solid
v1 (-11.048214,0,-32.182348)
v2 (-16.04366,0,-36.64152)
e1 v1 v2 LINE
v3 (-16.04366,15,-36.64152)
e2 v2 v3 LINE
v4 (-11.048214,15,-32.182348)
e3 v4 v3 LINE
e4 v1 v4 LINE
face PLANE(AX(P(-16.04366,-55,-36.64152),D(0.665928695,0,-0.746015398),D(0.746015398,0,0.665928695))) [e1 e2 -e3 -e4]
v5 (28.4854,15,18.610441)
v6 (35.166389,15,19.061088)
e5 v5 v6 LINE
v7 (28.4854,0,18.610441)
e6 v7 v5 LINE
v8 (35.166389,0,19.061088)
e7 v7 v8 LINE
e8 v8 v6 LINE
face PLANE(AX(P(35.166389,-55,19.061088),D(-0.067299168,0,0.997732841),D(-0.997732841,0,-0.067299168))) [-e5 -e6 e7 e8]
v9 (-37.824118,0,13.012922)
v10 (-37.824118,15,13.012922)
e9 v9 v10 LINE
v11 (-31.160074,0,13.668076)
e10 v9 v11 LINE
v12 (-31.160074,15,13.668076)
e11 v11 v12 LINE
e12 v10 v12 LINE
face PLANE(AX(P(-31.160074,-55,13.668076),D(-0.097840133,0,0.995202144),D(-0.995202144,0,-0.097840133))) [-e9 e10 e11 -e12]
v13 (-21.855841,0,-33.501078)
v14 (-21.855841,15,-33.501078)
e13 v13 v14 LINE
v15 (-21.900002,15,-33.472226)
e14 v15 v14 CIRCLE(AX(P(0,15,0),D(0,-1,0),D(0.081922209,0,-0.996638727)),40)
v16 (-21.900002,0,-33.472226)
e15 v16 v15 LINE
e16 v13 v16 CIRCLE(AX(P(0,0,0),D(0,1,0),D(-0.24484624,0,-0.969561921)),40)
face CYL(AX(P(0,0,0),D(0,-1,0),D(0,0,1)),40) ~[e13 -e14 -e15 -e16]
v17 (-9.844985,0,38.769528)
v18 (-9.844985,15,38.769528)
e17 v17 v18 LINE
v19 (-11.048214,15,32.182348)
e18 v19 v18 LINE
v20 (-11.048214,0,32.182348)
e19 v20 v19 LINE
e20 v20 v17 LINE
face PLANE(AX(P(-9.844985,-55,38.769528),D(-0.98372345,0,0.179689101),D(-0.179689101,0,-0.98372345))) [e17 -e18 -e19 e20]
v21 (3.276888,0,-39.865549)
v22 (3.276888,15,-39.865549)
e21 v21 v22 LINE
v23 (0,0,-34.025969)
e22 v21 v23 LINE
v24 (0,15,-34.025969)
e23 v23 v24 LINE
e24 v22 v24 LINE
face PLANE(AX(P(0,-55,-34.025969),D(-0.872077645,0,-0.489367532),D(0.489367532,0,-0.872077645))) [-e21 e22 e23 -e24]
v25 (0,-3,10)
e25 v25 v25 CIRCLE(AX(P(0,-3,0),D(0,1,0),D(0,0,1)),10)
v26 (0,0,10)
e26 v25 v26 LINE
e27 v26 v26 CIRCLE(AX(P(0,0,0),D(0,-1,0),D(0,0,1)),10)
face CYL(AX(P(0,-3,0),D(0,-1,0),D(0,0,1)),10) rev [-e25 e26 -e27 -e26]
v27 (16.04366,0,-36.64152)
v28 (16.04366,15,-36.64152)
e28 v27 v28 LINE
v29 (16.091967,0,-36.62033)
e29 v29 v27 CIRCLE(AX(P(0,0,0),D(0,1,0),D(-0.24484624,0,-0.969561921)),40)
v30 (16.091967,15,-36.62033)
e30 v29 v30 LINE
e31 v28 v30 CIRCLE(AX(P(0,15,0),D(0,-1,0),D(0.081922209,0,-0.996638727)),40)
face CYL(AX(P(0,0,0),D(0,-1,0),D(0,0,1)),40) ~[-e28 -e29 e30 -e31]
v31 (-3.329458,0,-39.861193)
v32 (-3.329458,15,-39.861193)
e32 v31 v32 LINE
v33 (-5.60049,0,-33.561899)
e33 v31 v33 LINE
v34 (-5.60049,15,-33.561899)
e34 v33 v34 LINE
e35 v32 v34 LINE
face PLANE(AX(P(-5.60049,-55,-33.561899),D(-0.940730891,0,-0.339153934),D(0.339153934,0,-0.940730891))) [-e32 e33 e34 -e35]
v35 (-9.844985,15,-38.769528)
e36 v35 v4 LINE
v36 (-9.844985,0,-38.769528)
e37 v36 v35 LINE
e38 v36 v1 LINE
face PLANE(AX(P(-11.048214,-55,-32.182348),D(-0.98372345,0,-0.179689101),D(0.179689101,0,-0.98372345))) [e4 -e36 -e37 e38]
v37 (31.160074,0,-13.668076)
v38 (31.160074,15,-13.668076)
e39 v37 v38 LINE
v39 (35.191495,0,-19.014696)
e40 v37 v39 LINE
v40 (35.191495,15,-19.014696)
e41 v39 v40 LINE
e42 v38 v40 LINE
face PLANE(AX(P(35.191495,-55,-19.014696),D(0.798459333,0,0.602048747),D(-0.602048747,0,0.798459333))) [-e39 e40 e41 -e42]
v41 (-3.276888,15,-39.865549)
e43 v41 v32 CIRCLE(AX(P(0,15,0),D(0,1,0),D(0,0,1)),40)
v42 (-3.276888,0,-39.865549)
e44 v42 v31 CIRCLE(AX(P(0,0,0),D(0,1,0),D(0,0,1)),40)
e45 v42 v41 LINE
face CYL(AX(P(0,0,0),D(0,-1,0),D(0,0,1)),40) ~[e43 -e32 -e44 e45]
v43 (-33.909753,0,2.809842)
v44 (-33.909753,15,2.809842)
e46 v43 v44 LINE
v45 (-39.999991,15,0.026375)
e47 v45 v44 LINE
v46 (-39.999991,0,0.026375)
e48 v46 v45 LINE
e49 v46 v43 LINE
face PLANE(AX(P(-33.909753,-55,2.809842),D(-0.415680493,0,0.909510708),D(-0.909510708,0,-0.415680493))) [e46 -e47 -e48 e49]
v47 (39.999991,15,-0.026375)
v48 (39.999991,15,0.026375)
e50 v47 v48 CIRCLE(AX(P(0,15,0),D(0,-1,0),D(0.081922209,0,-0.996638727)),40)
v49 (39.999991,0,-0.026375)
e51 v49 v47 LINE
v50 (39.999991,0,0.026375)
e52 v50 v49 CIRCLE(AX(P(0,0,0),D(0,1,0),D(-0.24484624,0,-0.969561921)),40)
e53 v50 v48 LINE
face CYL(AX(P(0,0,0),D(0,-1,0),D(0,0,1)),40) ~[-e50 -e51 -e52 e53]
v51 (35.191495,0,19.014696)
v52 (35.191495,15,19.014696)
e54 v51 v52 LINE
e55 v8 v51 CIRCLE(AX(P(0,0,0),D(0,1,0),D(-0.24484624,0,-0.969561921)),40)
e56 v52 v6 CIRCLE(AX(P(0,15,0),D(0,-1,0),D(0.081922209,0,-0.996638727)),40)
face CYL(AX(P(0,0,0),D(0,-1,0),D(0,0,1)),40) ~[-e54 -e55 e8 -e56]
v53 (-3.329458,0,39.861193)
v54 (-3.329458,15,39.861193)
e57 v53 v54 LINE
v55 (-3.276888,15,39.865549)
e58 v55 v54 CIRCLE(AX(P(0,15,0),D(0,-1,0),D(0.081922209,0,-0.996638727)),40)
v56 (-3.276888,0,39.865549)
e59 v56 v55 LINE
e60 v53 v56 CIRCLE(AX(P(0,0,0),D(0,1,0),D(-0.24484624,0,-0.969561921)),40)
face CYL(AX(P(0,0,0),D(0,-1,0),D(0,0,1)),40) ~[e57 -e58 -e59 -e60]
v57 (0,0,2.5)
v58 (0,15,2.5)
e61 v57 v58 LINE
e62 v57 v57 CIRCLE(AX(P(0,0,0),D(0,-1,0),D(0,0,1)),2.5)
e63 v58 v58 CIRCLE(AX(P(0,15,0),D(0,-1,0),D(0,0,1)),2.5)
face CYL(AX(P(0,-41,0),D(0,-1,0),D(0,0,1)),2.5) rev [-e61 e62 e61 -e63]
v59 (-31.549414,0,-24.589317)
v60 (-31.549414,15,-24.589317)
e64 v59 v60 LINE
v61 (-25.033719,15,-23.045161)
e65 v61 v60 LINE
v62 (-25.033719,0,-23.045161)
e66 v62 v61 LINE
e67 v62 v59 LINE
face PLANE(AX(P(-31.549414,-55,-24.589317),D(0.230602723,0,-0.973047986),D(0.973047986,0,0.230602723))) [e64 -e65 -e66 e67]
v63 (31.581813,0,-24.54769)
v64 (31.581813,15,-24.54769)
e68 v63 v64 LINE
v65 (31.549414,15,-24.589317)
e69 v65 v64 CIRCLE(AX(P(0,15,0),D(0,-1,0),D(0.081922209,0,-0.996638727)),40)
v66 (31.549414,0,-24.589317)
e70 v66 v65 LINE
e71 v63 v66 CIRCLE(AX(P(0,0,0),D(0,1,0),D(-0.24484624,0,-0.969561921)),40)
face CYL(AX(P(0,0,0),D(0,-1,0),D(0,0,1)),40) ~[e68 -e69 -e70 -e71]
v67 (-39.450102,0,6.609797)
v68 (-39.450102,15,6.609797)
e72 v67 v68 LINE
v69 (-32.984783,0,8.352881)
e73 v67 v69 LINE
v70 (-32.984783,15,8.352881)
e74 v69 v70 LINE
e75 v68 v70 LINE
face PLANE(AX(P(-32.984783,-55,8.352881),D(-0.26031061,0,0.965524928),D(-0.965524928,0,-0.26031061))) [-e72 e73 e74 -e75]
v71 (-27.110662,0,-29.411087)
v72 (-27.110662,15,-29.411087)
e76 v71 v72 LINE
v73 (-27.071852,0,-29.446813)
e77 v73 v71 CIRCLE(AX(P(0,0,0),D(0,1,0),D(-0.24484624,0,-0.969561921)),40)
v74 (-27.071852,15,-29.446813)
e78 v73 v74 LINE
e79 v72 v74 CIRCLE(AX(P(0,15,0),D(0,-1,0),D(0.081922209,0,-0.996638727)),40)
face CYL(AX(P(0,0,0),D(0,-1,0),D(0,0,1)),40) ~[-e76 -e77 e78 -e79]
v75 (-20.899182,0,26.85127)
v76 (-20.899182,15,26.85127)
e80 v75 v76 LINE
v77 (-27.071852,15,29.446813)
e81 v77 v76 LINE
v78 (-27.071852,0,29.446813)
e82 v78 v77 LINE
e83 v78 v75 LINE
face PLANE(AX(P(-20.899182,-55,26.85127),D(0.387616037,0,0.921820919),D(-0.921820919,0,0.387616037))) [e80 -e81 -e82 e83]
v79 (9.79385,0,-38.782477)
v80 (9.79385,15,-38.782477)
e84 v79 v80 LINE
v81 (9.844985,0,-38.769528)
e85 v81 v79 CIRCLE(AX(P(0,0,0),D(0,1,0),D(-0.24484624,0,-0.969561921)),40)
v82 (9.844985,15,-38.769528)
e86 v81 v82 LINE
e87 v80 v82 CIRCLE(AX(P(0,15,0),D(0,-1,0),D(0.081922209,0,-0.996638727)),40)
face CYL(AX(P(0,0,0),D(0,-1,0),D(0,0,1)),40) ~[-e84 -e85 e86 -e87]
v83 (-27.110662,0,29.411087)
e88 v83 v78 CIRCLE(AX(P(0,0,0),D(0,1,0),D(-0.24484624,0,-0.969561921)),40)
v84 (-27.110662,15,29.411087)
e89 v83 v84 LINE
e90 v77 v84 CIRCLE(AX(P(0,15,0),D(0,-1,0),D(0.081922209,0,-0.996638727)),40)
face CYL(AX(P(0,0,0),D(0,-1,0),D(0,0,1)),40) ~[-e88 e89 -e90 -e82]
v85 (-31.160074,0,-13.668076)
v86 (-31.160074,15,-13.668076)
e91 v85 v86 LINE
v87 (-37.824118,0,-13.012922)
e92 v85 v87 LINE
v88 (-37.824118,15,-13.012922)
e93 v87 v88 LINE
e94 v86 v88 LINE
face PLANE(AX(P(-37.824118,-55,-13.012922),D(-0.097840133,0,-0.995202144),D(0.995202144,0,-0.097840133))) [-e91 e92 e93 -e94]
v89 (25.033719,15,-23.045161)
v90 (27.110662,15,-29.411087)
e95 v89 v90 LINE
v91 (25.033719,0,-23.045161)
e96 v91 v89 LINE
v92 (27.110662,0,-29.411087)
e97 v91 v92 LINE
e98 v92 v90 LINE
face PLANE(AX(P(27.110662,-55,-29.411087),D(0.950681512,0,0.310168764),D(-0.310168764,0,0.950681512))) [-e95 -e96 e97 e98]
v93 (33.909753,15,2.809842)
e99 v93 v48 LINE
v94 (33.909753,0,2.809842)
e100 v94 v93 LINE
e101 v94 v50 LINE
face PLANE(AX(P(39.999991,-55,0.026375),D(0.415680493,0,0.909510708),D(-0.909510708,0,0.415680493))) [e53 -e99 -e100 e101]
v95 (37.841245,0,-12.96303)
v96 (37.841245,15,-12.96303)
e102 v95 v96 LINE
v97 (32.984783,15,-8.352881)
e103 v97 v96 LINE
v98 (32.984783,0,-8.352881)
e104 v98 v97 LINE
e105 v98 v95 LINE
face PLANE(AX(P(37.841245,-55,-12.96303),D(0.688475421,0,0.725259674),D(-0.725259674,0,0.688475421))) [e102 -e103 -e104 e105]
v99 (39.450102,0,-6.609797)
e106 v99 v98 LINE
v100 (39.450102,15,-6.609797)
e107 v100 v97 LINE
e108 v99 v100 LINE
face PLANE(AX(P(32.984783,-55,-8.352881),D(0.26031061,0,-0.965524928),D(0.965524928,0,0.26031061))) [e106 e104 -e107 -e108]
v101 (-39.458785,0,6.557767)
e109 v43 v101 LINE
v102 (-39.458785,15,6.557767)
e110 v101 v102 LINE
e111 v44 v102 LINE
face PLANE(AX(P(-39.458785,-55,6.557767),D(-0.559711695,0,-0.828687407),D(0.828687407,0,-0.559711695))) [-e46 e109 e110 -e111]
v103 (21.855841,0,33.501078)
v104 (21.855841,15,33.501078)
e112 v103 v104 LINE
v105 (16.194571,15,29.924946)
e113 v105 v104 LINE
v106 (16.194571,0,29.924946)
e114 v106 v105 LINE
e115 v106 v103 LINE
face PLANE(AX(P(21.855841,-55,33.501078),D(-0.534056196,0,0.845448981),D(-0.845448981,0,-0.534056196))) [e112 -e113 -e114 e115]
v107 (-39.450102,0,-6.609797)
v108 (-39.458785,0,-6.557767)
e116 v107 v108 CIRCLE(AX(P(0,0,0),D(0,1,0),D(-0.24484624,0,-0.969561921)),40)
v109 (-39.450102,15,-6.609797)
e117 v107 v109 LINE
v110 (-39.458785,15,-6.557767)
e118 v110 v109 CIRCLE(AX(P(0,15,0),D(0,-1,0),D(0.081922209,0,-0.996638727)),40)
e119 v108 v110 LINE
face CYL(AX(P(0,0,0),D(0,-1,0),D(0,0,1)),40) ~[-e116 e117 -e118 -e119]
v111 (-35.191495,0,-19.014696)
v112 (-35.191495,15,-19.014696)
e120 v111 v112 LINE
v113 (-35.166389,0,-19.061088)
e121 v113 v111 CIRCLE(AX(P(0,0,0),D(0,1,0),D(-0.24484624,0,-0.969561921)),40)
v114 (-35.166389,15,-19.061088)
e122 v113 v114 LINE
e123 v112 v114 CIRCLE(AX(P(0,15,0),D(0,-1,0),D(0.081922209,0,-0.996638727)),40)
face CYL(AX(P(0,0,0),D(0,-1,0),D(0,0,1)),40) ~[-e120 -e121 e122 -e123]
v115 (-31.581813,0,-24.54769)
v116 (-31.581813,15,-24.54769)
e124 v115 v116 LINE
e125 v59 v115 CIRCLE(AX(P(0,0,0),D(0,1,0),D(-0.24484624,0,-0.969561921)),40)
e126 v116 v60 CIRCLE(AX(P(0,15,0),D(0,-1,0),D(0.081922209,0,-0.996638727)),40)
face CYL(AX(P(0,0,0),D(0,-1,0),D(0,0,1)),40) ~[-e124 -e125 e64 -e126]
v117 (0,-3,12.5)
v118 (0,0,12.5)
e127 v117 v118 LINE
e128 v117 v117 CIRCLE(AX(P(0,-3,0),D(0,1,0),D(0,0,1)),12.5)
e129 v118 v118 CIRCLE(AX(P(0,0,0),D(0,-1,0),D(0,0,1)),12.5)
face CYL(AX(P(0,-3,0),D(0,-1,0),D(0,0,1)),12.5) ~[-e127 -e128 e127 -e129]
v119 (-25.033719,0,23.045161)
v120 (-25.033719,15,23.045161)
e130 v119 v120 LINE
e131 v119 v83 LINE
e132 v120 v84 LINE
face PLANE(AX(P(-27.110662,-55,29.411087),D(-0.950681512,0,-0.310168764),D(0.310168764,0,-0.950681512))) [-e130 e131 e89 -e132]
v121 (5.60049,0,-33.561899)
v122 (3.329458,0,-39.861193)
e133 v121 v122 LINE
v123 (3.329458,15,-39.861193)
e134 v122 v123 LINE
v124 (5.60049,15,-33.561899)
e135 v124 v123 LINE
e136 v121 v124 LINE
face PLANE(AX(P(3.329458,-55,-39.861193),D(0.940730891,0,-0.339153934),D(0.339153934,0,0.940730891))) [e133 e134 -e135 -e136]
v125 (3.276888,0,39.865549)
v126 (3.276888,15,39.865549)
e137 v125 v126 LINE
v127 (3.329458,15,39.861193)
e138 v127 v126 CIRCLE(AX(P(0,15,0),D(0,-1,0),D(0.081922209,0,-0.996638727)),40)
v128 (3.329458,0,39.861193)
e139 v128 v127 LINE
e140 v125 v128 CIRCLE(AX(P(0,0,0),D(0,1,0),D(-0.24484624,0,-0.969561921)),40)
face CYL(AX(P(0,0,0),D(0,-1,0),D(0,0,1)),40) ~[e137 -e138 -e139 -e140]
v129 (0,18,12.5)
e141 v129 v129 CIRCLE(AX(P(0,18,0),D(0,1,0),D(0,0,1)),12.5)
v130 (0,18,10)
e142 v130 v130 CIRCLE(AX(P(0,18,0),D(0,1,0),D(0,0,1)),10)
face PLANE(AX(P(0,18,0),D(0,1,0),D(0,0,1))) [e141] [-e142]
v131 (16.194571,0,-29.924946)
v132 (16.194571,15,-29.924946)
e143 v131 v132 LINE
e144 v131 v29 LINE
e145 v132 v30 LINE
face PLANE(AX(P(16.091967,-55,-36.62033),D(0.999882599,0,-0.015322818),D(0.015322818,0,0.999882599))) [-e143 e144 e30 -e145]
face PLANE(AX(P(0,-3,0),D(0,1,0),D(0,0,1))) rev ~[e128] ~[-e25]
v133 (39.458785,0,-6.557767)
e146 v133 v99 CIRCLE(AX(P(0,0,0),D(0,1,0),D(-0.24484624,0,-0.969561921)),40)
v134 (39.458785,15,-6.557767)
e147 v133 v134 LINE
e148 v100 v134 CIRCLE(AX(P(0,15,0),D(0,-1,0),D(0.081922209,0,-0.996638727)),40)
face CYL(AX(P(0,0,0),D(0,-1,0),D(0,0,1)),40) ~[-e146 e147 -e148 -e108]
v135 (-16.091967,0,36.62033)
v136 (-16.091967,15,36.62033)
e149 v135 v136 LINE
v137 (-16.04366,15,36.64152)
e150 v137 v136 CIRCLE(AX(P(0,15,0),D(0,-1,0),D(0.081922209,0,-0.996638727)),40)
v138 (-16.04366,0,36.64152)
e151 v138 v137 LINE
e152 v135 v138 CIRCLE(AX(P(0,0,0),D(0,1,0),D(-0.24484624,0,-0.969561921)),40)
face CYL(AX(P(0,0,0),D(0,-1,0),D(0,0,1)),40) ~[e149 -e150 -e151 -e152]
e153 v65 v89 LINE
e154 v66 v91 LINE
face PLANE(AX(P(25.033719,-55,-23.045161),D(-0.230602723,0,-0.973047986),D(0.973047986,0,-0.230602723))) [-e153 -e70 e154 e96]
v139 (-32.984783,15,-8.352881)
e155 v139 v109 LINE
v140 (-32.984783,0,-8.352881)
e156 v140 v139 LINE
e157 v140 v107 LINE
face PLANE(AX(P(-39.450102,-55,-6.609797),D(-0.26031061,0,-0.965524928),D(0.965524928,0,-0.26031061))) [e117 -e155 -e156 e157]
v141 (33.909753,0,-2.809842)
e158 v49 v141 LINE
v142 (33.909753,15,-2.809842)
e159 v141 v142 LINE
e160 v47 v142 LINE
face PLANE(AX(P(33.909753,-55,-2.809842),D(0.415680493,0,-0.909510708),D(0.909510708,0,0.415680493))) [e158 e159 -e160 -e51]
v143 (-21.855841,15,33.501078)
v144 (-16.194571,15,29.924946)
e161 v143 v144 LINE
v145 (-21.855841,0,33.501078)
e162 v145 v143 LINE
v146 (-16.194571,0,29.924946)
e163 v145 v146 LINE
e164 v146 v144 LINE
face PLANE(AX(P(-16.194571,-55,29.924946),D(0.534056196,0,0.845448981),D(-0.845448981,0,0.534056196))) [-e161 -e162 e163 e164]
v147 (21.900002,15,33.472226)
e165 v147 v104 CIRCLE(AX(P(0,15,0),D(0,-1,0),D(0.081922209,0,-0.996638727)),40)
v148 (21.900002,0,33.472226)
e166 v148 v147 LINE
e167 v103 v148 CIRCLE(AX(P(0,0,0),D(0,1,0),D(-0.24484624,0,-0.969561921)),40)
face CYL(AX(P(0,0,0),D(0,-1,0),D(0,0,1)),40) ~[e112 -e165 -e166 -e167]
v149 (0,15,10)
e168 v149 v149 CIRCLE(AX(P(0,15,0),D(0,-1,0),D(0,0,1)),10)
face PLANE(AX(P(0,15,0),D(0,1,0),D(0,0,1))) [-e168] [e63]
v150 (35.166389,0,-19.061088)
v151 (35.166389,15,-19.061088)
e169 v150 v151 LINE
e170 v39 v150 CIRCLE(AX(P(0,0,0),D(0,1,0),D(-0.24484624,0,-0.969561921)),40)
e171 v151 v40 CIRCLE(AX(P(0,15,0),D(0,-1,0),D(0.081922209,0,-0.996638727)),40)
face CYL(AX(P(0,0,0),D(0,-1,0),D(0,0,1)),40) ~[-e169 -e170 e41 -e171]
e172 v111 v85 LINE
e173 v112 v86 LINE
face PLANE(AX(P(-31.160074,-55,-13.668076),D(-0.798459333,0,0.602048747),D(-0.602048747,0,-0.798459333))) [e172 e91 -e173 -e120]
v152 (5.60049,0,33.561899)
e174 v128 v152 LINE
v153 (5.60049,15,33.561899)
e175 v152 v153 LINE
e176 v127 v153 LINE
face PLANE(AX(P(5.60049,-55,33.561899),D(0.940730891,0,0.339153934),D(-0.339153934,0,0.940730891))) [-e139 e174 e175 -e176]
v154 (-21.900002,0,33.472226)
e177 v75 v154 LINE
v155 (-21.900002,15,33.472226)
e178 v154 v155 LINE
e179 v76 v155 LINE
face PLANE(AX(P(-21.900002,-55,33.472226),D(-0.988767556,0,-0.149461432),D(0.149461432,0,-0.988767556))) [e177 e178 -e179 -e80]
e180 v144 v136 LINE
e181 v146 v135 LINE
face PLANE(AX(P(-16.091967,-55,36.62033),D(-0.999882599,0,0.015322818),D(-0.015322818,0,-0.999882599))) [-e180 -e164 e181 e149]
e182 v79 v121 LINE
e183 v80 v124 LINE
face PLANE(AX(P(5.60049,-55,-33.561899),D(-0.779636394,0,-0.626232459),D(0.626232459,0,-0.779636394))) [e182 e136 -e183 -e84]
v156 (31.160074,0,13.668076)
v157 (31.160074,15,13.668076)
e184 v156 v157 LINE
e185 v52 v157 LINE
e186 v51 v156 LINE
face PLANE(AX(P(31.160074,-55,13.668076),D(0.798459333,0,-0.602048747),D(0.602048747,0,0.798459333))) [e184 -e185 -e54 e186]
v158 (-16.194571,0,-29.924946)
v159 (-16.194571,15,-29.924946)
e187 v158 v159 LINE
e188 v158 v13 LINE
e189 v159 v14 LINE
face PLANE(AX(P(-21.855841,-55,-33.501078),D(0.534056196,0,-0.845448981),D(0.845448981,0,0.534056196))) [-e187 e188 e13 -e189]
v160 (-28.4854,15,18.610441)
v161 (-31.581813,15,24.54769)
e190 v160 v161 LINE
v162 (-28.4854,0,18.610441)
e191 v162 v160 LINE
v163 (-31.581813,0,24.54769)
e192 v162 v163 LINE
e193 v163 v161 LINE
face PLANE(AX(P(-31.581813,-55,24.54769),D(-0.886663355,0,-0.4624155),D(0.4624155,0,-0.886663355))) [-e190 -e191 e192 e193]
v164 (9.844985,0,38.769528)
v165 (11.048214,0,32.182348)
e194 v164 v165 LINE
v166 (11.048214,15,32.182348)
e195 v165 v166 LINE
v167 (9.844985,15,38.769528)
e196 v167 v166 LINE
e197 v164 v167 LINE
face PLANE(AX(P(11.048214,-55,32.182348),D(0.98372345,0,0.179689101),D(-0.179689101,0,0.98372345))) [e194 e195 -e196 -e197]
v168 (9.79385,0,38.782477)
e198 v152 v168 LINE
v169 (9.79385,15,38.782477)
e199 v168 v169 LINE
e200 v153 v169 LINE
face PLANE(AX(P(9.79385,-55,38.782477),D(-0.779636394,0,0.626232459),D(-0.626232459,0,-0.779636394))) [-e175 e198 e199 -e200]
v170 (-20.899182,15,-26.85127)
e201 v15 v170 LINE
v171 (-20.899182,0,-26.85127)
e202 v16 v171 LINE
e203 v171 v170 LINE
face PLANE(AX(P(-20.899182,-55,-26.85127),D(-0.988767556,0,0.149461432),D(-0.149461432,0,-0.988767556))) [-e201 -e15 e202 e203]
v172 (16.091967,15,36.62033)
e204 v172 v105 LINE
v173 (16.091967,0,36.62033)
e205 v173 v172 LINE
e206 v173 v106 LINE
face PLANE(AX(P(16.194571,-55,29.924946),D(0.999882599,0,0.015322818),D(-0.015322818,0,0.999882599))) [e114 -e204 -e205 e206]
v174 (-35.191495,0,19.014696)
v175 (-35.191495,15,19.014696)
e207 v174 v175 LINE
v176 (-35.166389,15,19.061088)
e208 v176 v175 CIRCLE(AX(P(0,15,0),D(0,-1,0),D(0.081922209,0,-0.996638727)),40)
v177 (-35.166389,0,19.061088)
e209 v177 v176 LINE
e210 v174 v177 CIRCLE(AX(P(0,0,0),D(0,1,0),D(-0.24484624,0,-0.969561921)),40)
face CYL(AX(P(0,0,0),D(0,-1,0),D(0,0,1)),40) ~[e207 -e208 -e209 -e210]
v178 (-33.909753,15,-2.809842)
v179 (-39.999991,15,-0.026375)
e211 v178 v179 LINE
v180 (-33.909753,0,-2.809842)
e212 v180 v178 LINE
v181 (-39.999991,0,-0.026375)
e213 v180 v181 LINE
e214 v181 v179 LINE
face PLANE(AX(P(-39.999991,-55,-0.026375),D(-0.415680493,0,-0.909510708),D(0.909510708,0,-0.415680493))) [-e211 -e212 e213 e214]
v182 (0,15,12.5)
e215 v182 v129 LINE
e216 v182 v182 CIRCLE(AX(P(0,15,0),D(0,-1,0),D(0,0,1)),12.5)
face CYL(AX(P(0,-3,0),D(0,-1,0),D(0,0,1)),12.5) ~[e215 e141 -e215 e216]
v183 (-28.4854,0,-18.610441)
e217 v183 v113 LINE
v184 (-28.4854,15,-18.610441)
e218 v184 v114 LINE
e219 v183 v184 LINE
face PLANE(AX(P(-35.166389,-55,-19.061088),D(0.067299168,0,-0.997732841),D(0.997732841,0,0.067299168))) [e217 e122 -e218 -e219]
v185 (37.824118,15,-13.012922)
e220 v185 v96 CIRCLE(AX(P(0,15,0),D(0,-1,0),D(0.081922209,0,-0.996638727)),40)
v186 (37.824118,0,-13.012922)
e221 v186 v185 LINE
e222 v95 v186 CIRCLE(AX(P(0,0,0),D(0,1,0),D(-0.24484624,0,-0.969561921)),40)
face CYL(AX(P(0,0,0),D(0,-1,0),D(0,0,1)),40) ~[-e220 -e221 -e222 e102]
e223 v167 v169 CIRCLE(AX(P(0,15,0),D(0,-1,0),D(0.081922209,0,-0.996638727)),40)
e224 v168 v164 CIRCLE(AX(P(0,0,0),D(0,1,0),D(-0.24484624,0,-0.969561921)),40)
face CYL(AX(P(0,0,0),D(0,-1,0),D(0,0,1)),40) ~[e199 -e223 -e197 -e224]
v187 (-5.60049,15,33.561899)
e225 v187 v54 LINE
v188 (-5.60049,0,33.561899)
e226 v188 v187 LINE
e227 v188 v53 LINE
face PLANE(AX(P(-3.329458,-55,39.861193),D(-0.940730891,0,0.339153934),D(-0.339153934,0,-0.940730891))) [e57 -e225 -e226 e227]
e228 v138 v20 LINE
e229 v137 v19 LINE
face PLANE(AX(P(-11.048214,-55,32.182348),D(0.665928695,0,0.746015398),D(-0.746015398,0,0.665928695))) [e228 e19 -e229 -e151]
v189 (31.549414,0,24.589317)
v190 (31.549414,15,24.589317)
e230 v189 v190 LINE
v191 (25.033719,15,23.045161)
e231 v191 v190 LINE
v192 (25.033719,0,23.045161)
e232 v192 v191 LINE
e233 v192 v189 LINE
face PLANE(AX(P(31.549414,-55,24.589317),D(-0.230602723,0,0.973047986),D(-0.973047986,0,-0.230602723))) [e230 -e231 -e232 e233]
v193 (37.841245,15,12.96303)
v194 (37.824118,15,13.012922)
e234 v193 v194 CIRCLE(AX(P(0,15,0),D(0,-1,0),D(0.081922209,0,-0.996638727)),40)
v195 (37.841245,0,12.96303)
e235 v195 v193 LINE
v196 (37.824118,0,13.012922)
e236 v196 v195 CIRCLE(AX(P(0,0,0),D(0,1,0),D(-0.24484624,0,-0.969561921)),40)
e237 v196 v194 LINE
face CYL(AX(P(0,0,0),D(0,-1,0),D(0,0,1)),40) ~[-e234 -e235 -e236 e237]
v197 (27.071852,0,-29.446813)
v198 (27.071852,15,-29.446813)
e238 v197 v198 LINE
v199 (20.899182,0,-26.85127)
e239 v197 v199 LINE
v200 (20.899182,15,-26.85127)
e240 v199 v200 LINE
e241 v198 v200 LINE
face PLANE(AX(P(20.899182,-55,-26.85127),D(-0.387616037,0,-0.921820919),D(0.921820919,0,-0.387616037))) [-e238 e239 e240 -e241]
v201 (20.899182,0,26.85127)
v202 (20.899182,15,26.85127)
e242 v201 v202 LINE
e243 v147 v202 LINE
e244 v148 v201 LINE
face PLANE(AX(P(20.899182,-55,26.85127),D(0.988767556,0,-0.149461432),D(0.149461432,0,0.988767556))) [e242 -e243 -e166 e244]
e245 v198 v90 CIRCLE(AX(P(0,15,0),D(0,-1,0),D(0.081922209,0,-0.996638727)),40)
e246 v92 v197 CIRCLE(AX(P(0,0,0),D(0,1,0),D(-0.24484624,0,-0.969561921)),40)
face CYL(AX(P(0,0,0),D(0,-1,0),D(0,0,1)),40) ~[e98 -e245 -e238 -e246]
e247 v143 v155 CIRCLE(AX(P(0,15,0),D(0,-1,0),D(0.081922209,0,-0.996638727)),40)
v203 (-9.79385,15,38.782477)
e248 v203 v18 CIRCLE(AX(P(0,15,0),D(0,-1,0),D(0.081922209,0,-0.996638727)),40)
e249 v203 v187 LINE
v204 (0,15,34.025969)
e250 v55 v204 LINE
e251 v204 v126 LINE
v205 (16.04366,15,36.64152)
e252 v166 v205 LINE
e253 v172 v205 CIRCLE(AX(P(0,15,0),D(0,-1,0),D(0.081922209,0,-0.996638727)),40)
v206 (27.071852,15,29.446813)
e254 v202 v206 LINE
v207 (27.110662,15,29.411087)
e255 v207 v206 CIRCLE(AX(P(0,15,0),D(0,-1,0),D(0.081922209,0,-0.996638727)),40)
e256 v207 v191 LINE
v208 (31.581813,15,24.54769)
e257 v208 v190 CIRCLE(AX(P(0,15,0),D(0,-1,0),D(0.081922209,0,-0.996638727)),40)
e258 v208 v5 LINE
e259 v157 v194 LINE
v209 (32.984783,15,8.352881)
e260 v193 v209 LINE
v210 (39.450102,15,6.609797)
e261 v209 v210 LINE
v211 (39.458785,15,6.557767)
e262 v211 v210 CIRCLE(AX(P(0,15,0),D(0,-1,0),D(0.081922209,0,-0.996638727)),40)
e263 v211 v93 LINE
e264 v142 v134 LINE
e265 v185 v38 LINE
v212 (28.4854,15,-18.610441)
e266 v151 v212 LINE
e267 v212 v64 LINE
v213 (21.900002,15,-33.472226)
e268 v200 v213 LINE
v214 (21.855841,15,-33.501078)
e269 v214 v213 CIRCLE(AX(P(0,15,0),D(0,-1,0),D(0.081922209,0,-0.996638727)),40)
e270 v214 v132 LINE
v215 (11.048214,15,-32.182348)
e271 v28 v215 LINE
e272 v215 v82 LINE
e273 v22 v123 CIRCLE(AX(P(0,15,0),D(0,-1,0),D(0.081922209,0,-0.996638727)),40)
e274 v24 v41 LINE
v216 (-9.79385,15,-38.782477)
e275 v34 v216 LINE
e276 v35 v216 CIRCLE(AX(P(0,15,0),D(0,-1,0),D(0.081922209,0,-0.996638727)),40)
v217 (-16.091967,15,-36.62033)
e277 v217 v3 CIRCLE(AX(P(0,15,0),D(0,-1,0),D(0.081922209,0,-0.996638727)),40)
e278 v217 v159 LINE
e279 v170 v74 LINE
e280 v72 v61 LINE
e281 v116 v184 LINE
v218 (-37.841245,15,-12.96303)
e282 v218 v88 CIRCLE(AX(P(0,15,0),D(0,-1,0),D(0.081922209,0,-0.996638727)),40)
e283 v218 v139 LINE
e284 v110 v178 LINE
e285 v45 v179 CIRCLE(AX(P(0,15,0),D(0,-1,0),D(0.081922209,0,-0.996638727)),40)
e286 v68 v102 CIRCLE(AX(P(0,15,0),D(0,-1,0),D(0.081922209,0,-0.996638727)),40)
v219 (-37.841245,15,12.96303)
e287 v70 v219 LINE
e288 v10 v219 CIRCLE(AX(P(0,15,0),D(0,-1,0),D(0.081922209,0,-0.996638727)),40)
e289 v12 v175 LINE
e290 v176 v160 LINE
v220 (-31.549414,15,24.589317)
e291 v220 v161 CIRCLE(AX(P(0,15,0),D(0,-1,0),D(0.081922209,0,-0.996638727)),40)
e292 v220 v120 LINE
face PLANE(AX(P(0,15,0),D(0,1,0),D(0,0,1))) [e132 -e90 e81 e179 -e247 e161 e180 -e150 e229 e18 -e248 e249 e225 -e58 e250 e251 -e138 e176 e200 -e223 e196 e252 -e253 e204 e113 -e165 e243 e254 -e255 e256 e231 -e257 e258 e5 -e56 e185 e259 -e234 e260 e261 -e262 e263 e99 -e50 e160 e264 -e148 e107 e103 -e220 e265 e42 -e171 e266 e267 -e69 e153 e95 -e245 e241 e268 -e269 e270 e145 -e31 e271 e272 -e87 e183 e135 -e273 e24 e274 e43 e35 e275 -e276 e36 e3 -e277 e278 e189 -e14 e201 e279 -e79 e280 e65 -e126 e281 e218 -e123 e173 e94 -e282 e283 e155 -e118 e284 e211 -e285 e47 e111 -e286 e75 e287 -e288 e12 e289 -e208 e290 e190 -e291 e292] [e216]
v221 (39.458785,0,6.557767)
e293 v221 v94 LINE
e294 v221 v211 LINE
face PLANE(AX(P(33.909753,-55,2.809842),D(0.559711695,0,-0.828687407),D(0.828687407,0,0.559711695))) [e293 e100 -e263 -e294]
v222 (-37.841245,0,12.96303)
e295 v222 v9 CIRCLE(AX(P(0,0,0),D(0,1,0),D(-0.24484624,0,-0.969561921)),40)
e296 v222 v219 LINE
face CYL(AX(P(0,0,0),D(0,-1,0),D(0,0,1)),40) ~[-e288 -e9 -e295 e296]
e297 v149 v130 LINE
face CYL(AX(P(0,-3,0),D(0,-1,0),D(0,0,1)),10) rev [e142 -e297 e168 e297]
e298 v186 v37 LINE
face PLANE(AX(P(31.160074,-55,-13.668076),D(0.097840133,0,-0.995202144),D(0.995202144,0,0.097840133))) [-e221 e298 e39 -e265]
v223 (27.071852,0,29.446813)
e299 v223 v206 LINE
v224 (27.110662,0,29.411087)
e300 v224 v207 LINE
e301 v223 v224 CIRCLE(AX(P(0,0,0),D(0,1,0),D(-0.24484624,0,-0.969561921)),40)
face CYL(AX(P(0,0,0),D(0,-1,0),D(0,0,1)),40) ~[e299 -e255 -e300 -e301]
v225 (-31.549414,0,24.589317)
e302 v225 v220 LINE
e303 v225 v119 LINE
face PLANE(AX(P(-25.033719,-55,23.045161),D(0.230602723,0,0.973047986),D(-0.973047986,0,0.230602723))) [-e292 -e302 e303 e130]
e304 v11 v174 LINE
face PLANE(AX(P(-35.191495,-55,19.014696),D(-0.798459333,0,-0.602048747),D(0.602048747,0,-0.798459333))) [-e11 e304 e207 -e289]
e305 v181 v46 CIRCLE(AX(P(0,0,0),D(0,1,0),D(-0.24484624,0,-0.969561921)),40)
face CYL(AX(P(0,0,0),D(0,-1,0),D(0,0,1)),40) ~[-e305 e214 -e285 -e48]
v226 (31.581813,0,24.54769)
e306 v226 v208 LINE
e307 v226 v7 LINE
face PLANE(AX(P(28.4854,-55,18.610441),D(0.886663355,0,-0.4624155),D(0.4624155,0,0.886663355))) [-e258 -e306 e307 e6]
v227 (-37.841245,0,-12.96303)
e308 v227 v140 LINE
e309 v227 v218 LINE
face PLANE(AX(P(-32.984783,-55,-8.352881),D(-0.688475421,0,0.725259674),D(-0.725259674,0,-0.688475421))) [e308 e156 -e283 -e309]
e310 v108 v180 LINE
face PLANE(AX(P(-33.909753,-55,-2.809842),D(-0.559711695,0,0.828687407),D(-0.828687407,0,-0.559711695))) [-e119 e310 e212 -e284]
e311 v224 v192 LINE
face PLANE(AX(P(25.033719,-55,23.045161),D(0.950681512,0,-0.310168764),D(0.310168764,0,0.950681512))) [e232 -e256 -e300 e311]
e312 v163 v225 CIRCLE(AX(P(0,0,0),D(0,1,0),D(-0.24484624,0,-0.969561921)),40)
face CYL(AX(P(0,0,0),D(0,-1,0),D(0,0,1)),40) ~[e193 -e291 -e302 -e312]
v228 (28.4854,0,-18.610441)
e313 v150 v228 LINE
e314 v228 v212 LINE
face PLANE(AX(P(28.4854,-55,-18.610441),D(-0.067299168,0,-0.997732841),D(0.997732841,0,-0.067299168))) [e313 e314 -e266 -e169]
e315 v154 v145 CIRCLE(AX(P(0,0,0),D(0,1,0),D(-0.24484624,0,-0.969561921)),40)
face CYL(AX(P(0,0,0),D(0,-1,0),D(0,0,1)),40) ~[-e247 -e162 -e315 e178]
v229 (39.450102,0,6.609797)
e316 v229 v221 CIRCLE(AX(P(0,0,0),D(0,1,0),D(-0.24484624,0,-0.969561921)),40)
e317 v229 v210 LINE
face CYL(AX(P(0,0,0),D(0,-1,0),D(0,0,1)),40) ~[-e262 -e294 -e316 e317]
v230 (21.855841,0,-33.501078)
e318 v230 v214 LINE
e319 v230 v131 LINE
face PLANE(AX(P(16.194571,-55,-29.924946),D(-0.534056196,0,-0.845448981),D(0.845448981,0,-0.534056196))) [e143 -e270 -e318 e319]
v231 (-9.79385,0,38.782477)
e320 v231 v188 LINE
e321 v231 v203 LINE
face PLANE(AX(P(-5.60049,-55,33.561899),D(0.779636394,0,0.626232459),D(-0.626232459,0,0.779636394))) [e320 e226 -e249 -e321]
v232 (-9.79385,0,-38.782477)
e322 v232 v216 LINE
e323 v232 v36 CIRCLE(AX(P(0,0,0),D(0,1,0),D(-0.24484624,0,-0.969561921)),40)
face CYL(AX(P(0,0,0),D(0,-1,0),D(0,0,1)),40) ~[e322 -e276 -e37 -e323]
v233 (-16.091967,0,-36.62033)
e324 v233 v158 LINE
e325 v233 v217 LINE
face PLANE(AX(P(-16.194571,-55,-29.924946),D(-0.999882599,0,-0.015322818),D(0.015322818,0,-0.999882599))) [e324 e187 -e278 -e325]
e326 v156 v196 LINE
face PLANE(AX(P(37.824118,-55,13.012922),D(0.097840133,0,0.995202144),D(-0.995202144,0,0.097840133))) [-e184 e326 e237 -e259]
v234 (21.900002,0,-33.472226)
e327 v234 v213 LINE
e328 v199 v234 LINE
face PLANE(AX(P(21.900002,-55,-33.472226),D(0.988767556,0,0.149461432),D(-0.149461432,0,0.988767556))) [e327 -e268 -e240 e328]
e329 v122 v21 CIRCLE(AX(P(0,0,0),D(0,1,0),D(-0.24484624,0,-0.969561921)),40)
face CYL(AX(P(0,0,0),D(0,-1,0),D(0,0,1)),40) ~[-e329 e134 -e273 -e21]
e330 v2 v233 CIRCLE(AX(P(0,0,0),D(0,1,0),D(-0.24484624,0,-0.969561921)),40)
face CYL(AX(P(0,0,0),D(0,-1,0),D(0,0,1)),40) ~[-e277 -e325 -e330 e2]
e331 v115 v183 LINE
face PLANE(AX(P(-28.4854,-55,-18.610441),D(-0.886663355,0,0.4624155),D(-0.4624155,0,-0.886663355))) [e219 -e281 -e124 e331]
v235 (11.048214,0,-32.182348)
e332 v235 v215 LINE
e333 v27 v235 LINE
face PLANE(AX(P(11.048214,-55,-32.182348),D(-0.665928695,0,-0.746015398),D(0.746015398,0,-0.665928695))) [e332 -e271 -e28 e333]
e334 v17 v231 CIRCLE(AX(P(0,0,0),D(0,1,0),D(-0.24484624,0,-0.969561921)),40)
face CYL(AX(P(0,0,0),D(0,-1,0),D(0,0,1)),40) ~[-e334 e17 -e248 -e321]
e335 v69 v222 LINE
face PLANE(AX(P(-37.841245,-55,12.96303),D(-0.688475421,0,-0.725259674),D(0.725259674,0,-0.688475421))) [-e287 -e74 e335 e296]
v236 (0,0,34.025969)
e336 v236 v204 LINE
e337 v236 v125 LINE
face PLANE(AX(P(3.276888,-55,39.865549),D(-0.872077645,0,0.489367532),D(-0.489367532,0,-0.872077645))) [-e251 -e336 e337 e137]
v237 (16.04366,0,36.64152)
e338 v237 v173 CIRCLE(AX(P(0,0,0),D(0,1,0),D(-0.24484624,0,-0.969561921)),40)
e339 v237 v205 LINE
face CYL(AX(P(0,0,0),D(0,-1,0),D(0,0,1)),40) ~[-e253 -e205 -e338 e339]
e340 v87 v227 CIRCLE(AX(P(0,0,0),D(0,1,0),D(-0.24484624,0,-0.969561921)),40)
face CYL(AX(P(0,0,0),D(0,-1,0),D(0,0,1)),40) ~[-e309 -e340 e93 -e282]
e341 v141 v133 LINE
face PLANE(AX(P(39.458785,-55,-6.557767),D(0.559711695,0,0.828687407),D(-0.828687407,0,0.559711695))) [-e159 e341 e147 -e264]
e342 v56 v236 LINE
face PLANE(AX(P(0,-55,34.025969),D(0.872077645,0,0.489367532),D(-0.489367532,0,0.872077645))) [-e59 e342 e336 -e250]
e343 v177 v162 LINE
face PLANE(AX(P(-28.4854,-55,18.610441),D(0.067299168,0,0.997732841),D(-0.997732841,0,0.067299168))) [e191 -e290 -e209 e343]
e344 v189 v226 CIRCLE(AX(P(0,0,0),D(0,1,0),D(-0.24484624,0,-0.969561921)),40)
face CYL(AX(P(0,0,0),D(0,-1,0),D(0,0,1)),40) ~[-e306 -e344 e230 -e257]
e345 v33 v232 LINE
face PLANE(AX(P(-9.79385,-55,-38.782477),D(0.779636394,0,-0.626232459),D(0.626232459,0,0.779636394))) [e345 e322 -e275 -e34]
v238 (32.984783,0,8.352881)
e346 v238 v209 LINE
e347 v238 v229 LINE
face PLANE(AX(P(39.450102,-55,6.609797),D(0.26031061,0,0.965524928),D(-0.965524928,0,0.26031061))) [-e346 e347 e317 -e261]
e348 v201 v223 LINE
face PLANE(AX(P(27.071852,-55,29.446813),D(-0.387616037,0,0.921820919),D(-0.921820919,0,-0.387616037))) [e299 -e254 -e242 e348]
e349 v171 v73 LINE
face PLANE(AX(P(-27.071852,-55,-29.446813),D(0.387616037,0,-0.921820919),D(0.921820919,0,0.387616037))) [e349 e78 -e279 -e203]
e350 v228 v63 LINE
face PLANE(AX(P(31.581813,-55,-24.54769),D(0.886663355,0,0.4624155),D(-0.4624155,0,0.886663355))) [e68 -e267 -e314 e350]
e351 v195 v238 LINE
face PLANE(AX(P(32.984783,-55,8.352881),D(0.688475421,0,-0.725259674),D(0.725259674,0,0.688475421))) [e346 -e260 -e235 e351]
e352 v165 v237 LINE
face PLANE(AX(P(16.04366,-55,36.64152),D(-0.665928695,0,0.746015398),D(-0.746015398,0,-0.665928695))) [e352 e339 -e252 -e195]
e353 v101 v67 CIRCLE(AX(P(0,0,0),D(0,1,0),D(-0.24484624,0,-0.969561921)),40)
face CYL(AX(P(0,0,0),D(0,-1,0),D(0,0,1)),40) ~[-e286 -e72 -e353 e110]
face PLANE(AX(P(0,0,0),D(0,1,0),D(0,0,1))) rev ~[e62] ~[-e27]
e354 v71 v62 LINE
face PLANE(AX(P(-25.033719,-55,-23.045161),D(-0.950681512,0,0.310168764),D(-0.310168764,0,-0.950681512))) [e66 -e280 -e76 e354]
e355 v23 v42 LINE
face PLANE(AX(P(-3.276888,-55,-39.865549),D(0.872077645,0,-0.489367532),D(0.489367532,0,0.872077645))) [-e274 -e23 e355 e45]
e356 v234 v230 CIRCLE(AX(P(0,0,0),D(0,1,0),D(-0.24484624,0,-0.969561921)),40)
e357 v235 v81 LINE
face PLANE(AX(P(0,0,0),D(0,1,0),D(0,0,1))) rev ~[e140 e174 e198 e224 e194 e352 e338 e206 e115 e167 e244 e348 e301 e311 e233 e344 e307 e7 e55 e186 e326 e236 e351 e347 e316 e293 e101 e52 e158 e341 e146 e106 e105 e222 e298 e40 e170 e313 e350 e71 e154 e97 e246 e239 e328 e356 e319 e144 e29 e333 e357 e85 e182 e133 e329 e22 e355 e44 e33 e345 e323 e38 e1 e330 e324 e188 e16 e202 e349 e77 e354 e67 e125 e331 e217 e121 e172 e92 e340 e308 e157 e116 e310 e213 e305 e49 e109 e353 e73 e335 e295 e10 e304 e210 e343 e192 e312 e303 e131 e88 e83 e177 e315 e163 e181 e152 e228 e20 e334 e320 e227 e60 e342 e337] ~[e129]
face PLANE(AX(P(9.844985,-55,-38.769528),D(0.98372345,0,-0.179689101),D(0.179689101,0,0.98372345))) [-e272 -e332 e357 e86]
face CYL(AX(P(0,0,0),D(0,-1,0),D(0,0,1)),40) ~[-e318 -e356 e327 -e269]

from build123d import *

# Parameters (mm, degrees)
CROQUIS1_R                   = 40
SALIENTE_EXTRUIR1_DEPTH      = 15
CORTAR_EXTRUIR3_START        = -55
CORTAR_EXTRUIR3_DEPTH        = 75
MATRIZC1_COUNT               = 38
SALIENTE_EXTRUIR2_DEPTH      = 18
SALIENTE_EXTRUIR2_DEPTH_BACK = 3
CROQUIS4_R                   = 12.5
CROQUIS4_R_2                 = 10
CORTAR_EXTRUIR4_DEPTH        = 26
CORTAR_EXTRUIR4_DEPTH_BACK   = 41
CROQUIS5_R                   = 2.5


with BuildPart() as part:
    # Croquis1 → Saliente-Extruir1 (new body)
    with BuildSketch(Plane(origin=(0, 0, 0), x_dir=(1, 0, 0), z_dir=(0, 1, 0))):
        with Locations(Location((0, 0, 0), (0, 0, 270))):
            Circle(CROQUIS1_R)
    extrude(amount=SALIENTE_EXTRUIR1_DEPTH)

    # Croquis2 → Cortar-Extruir3 (cut)
    with BuildSketch(Plane(origin=(0, 0, 0), x_dir=(1, 0, 0), z_dir=(0, 1, 0)).offset(CORTAR_EXTRUIR3_START)):
        Polygon((0, 34.025968572), (3.276888375, 39.865549069), (0, 41.704379346), (-3.276888375, 39.865549069), align=None)
    cortar_extruir3 = extrude(amount=CORTAR_EXTRUIR3_DEPTH, mode=Mode.SUBTRACT)

    # MatrizC1: Cortar-Extruir3 ×38 about axis
    matrizc1_axis = Axis((0, 0, 0), (0, 1, 0))
    for i in range(1, MATRIZC1_COUNT):
        add(cortar_extruir3.rotate(matrizc1_axis, i * 360 / MATRIZC1_COUNT), mode=Mode.SUBTRACT)

    # Croquis4 → Saliente-Extruir2 (add, two sides: drawn at the far end of the back side and taken through both)
    with BuildSketch(Plane(origin=(0, 0, 0), x_dir=(1, 0, 0), z_dir=(0, 1, 0)).offset(-SALIENTE_EXTRUIR2_DEPTH_BACK)):
        with Locations(Location((0, 0, 0), (0, 0, 270))):
            Circle(CROQUIS4_R)
        with Locations(Location((0, 0, 0), (0, 0, 270))):
            Circle(CROQUIS4_R_2, mode=Mode.SUBTRACT)
    extrude(amount=SALIENTE_EXTRUIR2_DEPTH + SALIENTE_EXTRUIR2_DEPTH_BACK)

    # Croquis5 → Cortar-Extruir4 (cut, two sides: drawn at the far end of the back side and taken through both)
    with BuildSketch(Plane(origin=(0, 0, 0), x_dir=(1, 0, 0), z_dir=(0, 1, 0)).offset(-CORTAR_EXTRUIR4_DEPTH_BACK)):
        with Locations(Location((0, 0, 0), (0, 0, 270))):
            Circle(CROQUIS5_R)
    extrude(amount=CORTAR_EXTRUIR4_DEPTH + CORTAR_EXTRUIR4_DEPTH_BACK, mode=Mode.SUBTRACT)


solid = part.part
